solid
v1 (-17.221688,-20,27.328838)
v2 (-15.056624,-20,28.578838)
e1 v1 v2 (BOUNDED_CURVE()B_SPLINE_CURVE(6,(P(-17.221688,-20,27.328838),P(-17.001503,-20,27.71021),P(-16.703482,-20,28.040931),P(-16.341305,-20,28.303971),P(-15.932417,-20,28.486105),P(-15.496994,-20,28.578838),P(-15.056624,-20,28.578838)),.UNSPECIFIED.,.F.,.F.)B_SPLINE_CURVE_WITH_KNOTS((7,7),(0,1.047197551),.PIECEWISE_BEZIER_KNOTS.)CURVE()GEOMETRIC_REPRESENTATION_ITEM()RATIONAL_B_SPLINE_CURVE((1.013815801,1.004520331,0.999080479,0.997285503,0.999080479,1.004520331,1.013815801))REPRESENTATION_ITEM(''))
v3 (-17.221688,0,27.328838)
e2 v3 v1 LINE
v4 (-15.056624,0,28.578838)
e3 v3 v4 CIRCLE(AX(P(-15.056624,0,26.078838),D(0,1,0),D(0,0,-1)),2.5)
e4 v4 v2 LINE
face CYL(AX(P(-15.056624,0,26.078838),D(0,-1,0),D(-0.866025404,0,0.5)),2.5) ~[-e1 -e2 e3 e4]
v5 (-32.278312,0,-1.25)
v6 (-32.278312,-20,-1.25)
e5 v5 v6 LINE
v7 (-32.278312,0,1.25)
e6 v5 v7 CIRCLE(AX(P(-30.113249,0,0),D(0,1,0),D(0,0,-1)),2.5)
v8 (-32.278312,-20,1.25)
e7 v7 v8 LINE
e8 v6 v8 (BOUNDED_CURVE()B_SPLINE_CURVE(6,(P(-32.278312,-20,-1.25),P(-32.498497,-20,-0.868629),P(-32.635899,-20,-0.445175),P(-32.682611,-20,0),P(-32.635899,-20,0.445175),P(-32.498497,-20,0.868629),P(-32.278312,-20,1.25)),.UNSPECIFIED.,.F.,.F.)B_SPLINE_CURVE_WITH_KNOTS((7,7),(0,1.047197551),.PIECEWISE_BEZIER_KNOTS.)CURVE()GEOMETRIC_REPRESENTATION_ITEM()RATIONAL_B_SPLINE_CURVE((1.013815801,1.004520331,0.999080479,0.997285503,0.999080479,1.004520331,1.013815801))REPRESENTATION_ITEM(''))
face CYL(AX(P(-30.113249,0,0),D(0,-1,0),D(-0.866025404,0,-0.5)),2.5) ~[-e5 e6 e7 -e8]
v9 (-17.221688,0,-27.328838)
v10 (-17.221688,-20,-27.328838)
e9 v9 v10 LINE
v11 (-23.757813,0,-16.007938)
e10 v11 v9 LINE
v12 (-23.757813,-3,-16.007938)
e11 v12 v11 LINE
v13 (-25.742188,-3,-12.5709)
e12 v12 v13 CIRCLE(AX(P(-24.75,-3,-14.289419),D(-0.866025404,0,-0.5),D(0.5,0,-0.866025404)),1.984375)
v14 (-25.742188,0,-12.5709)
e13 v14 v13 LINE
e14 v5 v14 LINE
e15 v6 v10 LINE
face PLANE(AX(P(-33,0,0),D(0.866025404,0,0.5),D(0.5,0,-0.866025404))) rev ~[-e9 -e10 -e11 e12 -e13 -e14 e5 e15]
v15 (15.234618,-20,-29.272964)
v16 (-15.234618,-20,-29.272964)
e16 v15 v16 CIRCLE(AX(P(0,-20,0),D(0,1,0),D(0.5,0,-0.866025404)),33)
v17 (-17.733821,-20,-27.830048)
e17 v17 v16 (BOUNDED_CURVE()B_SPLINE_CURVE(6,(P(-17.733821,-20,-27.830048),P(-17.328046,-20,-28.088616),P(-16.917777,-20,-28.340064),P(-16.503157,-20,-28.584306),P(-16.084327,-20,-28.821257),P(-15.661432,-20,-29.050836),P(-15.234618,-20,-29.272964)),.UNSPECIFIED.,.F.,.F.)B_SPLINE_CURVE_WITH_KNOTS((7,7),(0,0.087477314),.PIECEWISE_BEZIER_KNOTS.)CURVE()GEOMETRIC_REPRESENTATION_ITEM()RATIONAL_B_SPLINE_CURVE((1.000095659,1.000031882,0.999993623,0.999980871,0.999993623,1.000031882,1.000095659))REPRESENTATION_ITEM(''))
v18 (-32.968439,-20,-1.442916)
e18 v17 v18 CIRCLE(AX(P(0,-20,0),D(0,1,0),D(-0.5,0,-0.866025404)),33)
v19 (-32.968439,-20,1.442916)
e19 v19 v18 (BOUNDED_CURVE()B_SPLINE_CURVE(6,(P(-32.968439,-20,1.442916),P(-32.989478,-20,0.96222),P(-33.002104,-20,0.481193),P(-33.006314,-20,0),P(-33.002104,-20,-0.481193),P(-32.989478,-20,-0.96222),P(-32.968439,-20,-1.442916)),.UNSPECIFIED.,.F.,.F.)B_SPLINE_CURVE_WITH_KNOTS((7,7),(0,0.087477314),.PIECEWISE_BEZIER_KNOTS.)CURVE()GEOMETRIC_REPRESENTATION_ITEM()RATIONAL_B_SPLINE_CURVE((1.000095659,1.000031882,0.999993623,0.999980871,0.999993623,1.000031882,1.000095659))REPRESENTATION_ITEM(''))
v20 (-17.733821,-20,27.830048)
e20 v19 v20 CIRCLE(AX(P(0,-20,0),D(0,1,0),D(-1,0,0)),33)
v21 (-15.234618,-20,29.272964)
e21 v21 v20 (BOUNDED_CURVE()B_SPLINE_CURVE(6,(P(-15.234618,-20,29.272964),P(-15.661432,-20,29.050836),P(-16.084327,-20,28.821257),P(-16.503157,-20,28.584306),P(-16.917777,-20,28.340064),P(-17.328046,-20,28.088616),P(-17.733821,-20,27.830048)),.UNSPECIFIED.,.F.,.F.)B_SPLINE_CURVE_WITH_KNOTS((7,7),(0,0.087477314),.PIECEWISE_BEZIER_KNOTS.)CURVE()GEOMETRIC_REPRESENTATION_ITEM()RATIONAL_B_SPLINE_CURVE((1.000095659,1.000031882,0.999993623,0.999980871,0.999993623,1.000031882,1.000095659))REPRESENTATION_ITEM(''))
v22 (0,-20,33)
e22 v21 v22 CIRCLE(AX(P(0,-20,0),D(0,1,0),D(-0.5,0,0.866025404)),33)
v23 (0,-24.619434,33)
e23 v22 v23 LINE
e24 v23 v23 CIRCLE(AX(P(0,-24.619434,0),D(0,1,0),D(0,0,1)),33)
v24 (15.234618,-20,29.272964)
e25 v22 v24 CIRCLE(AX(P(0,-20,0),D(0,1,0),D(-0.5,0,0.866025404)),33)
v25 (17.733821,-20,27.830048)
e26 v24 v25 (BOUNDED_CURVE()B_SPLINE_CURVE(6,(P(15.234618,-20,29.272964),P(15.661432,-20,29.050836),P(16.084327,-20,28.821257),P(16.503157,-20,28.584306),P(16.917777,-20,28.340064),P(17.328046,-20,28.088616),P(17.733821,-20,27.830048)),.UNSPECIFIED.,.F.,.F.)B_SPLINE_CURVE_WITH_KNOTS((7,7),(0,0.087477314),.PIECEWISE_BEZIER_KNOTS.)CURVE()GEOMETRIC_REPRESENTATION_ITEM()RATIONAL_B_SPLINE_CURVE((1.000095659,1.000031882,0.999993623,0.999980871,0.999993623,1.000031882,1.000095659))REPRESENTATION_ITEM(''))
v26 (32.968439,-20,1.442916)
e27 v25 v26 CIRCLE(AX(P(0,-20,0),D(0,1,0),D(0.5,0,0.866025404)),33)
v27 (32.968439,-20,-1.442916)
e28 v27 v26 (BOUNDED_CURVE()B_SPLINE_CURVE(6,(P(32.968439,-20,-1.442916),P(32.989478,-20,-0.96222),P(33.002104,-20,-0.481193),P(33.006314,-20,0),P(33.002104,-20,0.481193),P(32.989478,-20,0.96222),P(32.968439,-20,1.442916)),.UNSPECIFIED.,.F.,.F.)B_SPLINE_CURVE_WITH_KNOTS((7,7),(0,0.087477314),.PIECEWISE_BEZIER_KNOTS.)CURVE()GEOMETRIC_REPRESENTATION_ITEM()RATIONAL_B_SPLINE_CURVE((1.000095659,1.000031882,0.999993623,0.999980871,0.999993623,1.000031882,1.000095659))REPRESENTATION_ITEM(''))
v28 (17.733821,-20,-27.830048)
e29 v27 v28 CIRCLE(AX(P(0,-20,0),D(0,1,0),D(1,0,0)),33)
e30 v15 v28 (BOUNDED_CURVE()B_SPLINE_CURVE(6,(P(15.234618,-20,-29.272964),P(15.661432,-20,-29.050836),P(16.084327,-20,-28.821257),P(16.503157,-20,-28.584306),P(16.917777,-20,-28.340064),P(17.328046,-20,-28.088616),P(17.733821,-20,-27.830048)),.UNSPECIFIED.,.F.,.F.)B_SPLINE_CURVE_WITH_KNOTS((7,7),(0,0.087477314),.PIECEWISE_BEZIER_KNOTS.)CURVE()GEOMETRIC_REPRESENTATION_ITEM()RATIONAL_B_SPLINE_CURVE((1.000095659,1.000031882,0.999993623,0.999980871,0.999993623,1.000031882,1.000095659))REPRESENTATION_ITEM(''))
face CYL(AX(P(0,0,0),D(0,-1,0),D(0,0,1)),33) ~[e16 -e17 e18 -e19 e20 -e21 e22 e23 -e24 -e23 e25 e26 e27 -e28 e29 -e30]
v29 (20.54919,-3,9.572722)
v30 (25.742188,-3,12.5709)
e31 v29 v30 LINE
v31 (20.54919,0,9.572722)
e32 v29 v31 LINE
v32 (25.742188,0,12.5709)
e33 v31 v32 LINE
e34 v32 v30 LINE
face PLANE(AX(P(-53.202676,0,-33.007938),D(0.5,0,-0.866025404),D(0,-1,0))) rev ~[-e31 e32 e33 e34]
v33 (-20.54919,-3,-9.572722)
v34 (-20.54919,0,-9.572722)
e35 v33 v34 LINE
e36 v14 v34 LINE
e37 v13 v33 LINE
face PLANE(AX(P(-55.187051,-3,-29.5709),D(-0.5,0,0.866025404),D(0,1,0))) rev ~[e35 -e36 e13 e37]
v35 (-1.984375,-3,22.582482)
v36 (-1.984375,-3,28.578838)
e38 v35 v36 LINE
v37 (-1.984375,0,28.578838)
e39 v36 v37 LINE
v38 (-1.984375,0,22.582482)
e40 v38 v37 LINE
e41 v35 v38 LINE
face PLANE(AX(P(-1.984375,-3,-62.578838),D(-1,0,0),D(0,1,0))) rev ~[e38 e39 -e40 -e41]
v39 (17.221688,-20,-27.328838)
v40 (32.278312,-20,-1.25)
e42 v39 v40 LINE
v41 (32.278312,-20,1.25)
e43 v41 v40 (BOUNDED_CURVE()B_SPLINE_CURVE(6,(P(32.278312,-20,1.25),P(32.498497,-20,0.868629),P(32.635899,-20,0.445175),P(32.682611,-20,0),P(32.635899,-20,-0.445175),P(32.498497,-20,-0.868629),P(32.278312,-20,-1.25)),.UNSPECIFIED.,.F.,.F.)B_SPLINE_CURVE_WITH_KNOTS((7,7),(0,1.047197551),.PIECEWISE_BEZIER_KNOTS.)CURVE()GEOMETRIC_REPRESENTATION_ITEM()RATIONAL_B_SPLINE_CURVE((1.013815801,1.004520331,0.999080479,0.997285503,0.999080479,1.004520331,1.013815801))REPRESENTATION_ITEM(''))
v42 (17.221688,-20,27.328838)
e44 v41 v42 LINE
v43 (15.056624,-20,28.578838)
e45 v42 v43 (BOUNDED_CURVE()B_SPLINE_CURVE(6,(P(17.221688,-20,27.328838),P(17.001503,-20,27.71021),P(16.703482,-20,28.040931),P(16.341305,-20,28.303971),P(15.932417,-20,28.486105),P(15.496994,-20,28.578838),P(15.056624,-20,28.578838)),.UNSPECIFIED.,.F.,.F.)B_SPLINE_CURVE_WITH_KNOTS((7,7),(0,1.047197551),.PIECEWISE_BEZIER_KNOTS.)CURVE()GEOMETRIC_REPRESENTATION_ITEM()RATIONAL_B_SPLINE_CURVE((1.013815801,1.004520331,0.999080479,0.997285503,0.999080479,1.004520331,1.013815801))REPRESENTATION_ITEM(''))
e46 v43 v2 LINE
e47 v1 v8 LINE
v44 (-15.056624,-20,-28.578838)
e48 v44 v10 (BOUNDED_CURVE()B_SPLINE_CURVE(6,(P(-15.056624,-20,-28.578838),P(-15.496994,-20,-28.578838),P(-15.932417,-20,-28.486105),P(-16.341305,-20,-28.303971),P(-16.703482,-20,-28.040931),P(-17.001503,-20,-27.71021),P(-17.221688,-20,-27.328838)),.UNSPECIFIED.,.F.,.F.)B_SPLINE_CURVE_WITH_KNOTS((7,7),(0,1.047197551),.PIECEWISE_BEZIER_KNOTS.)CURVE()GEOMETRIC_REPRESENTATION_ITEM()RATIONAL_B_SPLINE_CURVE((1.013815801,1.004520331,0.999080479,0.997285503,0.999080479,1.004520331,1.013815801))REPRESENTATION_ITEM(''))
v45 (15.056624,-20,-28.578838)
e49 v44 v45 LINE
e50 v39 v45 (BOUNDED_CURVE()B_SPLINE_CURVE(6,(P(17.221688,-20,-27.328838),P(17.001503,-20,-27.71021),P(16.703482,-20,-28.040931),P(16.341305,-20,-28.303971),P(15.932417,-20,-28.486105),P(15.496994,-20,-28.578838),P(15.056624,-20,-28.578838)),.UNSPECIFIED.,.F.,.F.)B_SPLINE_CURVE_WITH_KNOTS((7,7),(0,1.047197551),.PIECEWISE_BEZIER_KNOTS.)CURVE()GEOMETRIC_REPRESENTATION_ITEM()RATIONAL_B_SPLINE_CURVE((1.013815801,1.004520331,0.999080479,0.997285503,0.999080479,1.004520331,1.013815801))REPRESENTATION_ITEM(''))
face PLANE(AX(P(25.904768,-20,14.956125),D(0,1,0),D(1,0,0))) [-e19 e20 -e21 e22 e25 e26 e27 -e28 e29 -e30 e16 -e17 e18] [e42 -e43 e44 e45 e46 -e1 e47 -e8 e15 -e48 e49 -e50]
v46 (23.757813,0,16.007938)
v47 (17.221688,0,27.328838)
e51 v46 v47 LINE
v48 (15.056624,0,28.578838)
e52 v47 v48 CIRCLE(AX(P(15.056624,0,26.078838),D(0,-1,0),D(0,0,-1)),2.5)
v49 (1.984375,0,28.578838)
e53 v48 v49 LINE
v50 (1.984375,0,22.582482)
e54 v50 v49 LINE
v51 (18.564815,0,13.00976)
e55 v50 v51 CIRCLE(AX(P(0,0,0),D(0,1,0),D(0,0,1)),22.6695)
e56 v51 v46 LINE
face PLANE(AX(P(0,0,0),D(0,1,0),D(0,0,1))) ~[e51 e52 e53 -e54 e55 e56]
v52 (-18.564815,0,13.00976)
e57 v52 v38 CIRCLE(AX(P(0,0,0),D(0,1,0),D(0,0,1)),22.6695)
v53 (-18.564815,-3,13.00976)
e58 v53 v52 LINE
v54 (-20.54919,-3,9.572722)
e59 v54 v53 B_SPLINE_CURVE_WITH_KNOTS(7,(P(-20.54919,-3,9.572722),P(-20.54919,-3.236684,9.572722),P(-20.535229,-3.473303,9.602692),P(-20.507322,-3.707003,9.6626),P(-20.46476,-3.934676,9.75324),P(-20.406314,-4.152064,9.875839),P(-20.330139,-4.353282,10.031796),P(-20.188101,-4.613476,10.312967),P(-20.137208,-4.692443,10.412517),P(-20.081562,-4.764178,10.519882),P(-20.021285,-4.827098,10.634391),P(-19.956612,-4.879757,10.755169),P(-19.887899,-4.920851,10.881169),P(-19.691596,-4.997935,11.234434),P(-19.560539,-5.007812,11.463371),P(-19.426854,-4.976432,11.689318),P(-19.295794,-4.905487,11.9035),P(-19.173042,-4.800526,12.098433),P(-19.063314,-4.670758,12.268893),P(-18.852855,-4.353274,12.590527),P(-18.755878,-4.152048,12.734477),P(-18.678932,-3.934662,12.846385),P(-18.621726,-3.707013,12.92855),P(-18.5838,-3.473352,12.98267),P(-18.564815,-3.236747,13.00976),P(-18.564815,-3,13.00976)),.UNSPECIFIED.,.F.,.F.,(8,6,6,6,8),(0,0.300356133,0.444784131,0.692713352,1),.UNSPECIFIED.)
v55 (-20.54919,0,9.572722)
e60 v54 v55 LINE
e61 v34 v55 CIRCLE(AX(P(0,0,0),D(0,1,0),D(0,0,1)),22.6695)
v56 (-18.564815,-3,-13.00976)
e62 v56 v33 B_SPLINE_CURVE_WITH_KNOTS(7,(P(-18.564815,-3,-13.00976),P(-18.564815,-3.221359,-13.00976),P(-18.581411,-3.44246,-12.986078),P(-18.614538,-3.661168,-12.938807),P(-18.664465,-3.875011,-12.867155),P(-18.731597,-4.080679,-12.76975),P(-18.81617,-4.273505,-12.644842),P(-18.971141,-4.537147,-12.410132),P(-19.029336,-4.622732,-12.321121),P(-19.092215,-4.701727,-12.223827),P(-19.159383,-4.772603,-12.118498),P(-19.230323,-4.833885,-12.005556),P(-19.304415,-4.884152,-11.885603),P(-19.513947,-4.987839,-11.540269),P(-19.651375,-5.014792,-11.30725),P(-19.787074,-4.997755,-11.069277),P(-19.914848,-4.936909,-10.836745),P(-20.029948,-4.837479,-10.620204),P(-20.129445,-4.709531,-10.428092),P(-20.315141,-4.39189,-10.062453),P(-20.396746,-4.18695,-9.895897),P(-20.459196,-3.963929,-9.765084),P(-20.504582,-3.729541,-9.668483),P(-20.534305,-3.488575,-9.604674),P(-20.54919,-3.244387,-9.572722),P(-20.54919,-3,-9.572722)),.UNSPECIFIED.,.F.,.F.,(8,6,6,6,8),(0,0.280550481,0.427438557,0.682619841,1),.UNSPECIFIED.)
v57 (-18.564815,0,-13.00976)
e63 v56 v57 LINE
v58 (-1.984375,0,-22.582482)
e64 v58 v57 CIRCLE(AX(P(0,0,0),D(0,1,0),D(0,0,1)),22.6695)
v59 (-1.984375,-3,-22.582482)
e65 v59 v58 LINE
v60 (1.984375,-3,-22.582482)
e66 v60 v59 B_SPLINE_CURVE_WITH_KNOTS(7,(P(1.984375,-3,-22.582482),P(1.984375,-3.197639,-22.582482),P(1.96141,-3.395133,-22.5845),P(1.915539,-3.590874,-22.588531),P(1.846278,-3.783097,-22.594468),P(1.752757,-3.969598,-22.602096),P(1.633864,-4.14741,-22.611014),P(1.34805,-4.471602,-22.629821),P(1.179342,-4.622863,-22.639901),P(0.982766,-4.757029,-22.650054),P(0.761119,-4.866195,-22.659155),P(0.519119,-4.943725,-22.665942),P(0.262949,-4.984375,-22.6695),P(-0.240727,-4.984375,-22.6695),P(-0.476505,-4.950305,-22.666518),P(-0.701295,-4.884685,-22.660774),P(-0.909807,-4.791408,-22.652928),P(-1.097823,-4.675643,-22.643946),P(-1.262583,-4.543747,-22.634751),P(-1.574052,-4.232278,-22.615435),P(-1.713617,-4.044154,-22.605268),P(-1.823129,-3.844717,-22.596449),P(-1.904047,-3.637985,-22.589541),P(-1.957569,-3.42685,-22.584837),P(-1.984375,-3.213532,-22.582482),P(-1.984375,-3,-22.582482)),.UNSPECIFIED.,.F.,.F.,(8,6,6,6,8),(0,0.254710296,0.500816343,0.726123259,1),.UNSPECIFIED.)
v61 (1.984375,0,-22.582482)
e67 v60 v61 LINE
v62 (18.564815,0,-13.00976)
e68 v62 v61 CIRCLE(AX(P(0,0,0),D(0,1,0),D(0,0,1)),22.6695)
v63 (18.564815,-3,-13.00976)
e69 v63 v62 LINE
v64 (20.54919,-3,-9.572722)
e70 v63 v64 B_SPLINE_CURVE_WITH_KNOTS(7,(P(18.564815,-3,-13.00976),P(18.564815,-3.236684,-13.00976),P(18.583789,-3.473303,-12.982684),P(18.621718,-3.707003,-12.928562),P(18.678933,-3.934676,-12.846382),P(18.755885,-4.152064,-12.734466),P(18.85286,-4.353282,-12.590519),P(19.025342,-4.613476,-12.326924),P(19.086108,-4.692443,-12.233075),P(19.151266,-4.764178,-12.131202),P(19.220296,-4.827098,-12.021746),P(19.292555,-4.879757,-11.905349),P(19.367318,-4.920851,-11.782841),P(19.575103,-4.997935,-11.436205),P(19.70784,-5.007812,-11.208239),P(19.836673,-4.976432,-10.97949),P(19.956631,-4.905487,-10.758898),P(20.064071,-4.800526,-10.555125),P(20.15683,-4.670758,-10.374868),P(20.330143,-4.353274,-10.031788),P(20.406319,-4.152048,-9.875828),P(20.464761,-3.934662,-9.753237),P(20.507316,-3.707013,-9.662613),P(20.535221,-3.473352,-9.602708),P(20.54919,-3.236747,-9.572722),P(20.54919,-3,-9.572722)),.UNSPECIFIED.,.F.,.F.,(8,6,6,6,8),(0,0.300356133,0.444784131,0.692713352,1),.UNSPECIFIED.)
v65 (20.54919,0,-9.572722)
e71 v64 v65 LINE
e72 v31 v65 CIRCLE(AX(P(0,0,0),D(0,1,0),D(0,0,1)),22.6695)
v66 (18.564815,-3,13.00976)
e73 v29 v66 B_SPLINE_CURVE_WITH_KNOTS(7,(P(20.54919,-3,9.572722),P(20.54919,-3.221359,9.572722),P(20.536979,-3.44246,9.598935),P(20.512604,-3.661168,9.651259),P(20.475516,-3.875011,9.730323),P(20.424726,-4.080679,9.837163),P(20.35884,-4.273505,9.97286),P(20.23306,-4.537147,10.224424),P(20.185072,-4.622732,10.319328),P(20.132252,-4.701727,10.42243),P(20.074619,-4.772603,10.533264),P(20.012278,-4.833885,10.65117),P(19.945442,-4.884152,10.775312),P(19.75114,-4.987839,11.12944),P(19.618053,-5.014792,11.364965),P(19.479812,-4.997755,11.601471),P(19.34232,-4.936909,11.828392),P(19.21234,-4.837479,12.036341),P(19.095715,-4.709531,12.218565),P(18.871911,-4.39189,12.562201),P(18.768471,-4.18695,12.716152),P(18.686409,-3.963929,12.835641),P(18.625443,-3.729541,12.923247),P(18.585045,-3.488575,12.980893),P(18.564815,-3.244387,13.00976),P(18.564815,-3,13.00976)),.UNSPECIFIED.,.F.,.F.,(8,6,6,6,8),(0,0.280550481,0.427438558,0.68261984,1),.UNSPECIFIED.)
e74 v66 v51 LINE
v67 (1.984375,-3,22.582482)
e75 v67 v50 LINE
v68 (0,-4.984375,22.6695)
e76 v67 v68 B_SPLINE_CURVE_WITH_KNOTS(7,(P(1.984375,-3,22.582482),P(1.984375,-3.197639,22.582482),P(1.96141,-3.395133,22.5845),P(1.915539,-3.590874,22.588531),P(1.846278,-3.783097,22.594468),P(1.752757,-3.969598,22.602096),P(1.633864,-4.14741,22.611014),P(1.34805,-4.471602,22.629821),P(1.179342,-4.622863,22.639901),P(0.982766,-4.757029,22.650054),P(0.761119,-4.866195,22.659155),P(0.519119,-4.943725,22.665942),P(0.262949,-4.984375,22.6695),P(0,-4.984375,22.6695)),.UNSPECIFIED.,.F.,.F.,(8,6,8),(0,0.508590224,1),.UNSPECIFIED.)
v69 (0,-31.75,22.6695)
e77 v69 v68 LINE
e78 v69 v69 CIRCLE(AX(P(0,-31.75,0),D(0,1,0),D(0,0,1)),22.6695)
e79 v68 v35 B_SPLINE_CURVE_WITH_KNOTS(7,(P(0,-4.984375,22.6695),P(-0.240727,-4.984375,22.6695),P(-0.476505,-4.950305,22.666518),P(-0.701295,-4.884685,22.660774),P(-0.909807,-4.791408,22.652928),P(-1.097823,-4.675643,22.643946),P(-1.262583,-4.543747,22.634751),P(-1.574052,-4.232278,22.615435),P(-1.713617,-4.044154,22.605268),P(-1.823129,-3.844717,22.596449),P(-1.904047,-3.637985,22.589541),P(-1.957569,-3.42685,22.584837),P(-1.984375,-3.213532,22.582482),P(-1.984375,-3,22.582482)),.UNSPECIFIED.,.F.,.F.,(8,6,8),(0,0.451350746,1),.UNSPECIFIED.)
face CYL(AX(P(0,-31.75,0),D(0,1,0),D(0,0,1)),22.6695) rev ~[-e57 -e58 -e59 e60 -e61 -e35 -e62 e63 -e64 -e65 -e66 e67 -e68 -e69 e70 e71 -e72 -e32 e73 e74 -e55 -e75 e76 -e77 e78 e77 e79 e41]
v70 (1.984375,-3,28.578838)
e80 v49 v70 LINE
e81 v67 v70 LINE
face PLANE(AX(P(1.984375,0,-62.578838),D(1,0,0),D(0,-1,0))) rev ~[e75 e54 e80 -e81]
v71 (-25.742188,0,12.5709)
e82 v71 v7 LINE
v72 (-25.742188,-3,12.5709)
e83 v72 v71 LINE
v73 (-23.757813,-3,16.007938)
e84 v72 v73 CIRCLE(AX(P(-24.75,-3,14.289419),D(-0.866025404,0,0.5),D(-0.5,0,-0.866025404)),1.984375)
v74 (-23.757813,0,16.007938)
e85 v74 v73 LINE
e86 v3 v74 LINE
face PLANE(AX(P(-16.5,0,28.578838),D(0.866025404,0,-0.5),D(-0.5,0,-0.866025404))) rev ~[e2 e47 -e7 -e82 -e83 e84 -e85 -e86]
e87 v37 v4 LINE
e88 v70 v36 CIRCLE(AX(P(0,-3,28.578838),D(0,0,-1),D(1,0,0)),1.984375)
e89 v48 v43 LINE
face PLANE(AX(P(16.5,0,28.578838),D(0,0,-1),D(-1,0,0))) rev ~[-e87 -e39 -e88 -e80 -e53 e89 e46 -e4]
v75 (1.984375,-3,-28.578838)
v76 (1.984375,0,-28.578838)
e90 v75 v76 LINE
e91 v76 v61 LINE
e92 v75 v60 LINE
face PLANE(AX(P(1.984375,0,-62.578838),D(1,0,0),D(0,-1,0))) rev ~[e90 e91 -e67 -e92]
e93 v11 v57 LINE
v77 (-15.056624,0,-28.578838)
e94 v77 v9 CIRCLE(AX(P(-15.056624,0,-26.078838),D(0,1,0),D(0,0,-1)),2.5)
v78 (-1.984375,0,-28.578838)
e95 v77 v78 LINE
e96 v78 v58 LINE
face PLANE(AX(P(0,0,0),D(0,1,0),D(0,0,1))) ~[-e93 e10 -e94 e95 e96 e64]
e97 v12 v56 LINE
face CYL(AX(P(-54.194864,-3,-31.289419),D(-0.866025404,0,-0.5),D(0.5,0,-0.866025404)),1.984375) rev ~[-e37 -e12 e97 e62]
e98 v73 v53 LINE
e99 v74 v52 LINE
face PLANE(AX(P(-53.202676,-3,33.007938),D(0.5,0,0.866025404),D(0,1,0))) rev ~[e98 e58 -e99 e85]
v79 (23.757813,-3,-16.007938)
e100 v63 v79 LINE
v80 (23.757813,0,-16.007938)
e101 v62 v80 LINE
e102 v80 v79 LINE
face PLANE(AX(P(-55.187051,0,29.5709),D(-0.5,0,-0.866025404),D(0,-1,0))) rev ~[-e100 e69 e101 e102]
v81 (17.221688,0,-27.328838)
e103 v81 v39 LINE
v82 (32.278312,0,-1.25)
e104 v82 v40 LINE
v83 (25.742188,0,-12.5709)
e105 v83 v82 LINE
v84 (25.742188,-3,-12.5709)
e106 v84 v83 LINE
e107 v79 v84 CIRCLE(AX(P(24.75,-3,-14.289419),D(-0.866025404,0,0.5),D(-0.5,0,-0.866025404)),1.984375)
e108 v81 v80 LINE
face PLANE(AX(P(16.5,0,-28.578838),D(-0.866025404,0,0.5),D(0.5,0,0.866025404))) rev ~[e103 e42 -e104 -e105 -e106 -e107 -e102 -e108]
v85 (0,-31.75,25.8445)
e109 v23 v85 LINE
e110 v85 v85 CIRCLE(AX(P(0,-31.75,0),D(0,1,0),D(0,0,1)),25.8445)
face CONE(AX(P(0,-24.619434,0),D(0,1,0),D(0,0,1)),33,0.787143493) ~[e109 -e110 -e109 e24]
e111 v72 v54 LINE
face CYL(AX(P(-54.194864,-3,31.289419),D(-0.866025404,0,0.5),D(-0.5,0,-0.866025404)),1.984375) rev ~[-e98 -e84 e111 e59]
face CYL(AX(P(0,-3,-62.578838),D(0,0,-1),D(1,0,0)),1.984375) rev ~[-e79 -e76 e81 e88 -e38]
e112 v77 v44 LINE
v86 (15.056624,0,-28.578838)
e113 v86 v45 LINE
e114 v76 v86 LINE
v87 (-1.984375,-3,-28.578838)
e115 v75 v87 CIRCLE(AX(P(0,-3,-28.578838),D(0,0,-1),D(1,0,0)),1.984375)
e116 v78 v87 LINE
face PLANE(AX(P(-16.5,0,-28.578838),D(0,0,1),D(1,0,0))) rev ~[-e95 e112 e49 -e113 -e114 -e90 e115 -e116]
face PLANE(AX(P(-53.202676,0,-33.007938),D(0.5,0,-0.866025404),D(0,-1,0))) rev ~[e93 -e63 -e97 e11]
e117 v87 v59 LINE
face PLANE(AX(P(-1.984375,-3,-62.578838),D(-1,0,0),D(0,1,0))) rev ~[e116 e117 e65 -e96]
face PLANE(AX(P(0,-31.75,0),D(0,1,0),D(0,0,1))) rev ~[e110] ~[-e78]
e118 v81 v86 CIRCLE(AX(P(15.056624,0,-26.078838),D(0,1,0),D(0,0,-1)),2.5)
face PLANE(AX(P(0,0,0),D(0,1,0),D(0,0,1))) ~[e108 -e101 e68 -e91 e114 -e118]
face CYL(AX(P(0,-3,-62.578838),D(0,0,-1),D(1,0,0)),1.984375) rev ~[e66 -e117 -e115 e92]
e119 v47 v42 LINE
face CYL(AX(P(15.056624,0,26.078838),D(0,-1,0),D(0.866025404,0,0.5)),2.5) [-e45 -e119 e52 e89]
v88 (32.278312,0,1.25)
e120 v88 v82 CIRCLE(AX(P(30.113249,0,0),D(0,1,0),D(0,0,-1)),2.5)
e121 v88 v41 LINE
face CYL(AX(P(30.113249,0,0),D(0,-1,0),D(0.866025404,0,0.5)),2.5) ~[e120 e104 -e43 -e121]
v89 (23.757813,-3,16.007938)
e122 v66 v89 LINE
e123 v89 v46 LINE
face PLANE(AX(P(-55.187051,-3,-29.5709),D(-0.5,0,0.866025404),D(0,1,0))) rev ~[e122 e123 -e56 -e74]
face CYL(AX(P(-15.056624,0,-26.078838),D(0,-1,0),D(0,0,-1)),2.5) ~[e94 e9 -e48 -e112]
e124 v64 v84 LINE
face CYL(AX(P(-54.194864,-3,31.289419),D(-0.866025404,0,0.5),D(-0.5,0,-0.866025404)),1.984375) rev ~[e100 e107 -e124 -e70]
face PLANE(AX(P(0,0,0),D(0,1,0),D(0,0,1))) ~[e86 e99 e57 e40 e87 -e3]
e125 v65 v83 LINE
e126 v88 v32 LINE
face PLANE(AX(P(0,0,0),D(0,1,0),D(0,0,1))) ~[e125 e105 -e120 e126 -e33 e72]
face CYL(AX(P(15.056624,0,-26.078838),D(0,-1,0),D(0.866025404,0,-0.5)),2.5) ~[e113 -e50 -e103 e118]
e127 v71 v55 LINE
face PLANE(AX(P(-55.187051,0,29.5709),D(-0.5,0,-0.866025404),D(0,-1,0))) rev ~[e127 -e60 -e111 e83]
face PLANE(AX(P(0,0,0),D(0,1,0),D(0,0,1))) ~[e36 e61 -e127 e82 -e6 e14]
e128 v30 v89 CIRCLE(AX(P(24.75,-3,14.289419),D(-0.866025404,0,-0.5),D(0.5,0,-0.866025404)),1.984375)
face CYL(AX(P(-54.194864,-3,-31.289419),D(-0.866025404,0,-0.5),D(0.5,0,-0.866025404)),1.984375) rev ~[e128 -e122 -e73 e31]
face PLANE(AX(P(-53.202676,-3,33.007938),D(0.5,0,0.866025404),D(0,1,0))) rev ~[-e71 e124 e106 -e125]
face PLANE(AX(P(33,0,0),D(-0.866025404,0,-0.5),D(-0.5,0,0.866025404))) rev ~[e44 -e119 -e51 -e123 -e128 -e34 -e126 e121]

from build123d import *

# Parameters (mm, degrees)
CUT_EXTRUDE5_DEPTH = 20
FILLET4_R          = 2.5
CUT_EXTRUDE6_START = -62.5788381
CUT_EXTRUDE6_DEPTH = 96.5788382
CIRPATTERN2_COUNT  = 6


with BuildPart() as part:
    # Sketch1 → Revolve1 (revolve)
    with BuildSketch(Plane(origin=(0, 0, 0), x_dir=(0, 0, -1), z_dir=(1, 0, 0))):
        Polygon((-22.6695, -31.75), (-22.6695, 0), (-33, 0), (-33, -24.619433914), (-25.8445, -31.75), align=None)
    revolve(axis=Axis((0, 0, 0), (0, 1, 0)))

    # Sketch4 → Cut-Extrude5 (cut)
    with BuildSketch(Plane(origin=(0, 0, 0), x_dir=(1, 0, 0), z_dir=(0, 1, 0))):
        with BuildLine():
            ThreePointArc((33, 0), (28.578838325, 16.5), (16.5, 28.578838325))
            Line((16.5, 28.578838325), (33, 0))
        make_face()
        with BuildLine():
            Line((-16.5, 28.578838325), (16.5, 28.578838325))
            ThreePointArc((16.5, 28.578838325), (0, 33), (-16.5, 28.578838325))
        make_face()
        with BuildLine():
            Line((-33, 0), (-16.5, 28.578838325))
            ThreePointArc((-16.5, 28.578838325), (-28.578838325, 16.5), (-33, 0))
        make_face()
        with BuildLine():
            ThreePointArc((16.5, -28.578838325), (28.578838325, -16.5), (33, 0))
            Line((33, 0), (16.5, -28.578838325))
        make_face()
        with BuildLine():
            Line((-16.5, -28.578838325), (-33, 0))
            ThreePointArc((-33, 0), (-28.578838325, -16.5), (-16.5, -28.578838325))
        make_face()
        with BuildLine():
            ThreePointArc((-16.5, -28.578838325), (0, -33), (16.5, -28.578838325))
            Line((16.5, -28.578838325), (-16.5, -28.578838325))
        make_face()
    extrude(amount=-CUT_EXTRUDE5_DEPTH, mode=Mode.SUBTRACT)

    # Fillet4
    fillet4_edges = [part.edges().sort_by_distance(p)[0] for p in [
        (33, -10, 0),
        (16.5, -10, -28.578838325),
        (-33, -10, 0),
        (16.5, -10, 28.578838325),
        (-16.5, -10, -28.578838325),
        (-16.5, -10, 28.578838325),
    ]]
    fillet(fillet4_edges, radius=FILLET4_R)

    # Sketch7 → Cut-Extrude6 (cut)
    with BuildSketch(Plane.XY.offset(CUT_EXTRUDE6_START)):
        with BuildLine():
            Line((-1.984375, -3), (-1.984375, 0))
            Line((-1.984375, 0), (1.984375, 0))
            Line((1.984375, 0), (1.984375, -3))
            ThreePointArc((1.984375, -3), (0, -4.984375), (-1.984375, -3))
        make_face()
    cut_extrude6 = extrude(amount=CUT_EXTRUDE6_DEPTH, mode=Mode.SUBTRACT)

    # CirPattern2: Cut-Extrude6 ×6 about axis
    cirpattern2_axis = Axis((0, 0, 0), (0, 1, 0))
    for i in range(1, CIRPATTERN2_COUNT):
        add(cut_extrude6.rotate(cirpattern2_axis, i * 360 / CIRPATTERN2_COUNT), mode=Mode.SUBTRACT)


solid = part.part
